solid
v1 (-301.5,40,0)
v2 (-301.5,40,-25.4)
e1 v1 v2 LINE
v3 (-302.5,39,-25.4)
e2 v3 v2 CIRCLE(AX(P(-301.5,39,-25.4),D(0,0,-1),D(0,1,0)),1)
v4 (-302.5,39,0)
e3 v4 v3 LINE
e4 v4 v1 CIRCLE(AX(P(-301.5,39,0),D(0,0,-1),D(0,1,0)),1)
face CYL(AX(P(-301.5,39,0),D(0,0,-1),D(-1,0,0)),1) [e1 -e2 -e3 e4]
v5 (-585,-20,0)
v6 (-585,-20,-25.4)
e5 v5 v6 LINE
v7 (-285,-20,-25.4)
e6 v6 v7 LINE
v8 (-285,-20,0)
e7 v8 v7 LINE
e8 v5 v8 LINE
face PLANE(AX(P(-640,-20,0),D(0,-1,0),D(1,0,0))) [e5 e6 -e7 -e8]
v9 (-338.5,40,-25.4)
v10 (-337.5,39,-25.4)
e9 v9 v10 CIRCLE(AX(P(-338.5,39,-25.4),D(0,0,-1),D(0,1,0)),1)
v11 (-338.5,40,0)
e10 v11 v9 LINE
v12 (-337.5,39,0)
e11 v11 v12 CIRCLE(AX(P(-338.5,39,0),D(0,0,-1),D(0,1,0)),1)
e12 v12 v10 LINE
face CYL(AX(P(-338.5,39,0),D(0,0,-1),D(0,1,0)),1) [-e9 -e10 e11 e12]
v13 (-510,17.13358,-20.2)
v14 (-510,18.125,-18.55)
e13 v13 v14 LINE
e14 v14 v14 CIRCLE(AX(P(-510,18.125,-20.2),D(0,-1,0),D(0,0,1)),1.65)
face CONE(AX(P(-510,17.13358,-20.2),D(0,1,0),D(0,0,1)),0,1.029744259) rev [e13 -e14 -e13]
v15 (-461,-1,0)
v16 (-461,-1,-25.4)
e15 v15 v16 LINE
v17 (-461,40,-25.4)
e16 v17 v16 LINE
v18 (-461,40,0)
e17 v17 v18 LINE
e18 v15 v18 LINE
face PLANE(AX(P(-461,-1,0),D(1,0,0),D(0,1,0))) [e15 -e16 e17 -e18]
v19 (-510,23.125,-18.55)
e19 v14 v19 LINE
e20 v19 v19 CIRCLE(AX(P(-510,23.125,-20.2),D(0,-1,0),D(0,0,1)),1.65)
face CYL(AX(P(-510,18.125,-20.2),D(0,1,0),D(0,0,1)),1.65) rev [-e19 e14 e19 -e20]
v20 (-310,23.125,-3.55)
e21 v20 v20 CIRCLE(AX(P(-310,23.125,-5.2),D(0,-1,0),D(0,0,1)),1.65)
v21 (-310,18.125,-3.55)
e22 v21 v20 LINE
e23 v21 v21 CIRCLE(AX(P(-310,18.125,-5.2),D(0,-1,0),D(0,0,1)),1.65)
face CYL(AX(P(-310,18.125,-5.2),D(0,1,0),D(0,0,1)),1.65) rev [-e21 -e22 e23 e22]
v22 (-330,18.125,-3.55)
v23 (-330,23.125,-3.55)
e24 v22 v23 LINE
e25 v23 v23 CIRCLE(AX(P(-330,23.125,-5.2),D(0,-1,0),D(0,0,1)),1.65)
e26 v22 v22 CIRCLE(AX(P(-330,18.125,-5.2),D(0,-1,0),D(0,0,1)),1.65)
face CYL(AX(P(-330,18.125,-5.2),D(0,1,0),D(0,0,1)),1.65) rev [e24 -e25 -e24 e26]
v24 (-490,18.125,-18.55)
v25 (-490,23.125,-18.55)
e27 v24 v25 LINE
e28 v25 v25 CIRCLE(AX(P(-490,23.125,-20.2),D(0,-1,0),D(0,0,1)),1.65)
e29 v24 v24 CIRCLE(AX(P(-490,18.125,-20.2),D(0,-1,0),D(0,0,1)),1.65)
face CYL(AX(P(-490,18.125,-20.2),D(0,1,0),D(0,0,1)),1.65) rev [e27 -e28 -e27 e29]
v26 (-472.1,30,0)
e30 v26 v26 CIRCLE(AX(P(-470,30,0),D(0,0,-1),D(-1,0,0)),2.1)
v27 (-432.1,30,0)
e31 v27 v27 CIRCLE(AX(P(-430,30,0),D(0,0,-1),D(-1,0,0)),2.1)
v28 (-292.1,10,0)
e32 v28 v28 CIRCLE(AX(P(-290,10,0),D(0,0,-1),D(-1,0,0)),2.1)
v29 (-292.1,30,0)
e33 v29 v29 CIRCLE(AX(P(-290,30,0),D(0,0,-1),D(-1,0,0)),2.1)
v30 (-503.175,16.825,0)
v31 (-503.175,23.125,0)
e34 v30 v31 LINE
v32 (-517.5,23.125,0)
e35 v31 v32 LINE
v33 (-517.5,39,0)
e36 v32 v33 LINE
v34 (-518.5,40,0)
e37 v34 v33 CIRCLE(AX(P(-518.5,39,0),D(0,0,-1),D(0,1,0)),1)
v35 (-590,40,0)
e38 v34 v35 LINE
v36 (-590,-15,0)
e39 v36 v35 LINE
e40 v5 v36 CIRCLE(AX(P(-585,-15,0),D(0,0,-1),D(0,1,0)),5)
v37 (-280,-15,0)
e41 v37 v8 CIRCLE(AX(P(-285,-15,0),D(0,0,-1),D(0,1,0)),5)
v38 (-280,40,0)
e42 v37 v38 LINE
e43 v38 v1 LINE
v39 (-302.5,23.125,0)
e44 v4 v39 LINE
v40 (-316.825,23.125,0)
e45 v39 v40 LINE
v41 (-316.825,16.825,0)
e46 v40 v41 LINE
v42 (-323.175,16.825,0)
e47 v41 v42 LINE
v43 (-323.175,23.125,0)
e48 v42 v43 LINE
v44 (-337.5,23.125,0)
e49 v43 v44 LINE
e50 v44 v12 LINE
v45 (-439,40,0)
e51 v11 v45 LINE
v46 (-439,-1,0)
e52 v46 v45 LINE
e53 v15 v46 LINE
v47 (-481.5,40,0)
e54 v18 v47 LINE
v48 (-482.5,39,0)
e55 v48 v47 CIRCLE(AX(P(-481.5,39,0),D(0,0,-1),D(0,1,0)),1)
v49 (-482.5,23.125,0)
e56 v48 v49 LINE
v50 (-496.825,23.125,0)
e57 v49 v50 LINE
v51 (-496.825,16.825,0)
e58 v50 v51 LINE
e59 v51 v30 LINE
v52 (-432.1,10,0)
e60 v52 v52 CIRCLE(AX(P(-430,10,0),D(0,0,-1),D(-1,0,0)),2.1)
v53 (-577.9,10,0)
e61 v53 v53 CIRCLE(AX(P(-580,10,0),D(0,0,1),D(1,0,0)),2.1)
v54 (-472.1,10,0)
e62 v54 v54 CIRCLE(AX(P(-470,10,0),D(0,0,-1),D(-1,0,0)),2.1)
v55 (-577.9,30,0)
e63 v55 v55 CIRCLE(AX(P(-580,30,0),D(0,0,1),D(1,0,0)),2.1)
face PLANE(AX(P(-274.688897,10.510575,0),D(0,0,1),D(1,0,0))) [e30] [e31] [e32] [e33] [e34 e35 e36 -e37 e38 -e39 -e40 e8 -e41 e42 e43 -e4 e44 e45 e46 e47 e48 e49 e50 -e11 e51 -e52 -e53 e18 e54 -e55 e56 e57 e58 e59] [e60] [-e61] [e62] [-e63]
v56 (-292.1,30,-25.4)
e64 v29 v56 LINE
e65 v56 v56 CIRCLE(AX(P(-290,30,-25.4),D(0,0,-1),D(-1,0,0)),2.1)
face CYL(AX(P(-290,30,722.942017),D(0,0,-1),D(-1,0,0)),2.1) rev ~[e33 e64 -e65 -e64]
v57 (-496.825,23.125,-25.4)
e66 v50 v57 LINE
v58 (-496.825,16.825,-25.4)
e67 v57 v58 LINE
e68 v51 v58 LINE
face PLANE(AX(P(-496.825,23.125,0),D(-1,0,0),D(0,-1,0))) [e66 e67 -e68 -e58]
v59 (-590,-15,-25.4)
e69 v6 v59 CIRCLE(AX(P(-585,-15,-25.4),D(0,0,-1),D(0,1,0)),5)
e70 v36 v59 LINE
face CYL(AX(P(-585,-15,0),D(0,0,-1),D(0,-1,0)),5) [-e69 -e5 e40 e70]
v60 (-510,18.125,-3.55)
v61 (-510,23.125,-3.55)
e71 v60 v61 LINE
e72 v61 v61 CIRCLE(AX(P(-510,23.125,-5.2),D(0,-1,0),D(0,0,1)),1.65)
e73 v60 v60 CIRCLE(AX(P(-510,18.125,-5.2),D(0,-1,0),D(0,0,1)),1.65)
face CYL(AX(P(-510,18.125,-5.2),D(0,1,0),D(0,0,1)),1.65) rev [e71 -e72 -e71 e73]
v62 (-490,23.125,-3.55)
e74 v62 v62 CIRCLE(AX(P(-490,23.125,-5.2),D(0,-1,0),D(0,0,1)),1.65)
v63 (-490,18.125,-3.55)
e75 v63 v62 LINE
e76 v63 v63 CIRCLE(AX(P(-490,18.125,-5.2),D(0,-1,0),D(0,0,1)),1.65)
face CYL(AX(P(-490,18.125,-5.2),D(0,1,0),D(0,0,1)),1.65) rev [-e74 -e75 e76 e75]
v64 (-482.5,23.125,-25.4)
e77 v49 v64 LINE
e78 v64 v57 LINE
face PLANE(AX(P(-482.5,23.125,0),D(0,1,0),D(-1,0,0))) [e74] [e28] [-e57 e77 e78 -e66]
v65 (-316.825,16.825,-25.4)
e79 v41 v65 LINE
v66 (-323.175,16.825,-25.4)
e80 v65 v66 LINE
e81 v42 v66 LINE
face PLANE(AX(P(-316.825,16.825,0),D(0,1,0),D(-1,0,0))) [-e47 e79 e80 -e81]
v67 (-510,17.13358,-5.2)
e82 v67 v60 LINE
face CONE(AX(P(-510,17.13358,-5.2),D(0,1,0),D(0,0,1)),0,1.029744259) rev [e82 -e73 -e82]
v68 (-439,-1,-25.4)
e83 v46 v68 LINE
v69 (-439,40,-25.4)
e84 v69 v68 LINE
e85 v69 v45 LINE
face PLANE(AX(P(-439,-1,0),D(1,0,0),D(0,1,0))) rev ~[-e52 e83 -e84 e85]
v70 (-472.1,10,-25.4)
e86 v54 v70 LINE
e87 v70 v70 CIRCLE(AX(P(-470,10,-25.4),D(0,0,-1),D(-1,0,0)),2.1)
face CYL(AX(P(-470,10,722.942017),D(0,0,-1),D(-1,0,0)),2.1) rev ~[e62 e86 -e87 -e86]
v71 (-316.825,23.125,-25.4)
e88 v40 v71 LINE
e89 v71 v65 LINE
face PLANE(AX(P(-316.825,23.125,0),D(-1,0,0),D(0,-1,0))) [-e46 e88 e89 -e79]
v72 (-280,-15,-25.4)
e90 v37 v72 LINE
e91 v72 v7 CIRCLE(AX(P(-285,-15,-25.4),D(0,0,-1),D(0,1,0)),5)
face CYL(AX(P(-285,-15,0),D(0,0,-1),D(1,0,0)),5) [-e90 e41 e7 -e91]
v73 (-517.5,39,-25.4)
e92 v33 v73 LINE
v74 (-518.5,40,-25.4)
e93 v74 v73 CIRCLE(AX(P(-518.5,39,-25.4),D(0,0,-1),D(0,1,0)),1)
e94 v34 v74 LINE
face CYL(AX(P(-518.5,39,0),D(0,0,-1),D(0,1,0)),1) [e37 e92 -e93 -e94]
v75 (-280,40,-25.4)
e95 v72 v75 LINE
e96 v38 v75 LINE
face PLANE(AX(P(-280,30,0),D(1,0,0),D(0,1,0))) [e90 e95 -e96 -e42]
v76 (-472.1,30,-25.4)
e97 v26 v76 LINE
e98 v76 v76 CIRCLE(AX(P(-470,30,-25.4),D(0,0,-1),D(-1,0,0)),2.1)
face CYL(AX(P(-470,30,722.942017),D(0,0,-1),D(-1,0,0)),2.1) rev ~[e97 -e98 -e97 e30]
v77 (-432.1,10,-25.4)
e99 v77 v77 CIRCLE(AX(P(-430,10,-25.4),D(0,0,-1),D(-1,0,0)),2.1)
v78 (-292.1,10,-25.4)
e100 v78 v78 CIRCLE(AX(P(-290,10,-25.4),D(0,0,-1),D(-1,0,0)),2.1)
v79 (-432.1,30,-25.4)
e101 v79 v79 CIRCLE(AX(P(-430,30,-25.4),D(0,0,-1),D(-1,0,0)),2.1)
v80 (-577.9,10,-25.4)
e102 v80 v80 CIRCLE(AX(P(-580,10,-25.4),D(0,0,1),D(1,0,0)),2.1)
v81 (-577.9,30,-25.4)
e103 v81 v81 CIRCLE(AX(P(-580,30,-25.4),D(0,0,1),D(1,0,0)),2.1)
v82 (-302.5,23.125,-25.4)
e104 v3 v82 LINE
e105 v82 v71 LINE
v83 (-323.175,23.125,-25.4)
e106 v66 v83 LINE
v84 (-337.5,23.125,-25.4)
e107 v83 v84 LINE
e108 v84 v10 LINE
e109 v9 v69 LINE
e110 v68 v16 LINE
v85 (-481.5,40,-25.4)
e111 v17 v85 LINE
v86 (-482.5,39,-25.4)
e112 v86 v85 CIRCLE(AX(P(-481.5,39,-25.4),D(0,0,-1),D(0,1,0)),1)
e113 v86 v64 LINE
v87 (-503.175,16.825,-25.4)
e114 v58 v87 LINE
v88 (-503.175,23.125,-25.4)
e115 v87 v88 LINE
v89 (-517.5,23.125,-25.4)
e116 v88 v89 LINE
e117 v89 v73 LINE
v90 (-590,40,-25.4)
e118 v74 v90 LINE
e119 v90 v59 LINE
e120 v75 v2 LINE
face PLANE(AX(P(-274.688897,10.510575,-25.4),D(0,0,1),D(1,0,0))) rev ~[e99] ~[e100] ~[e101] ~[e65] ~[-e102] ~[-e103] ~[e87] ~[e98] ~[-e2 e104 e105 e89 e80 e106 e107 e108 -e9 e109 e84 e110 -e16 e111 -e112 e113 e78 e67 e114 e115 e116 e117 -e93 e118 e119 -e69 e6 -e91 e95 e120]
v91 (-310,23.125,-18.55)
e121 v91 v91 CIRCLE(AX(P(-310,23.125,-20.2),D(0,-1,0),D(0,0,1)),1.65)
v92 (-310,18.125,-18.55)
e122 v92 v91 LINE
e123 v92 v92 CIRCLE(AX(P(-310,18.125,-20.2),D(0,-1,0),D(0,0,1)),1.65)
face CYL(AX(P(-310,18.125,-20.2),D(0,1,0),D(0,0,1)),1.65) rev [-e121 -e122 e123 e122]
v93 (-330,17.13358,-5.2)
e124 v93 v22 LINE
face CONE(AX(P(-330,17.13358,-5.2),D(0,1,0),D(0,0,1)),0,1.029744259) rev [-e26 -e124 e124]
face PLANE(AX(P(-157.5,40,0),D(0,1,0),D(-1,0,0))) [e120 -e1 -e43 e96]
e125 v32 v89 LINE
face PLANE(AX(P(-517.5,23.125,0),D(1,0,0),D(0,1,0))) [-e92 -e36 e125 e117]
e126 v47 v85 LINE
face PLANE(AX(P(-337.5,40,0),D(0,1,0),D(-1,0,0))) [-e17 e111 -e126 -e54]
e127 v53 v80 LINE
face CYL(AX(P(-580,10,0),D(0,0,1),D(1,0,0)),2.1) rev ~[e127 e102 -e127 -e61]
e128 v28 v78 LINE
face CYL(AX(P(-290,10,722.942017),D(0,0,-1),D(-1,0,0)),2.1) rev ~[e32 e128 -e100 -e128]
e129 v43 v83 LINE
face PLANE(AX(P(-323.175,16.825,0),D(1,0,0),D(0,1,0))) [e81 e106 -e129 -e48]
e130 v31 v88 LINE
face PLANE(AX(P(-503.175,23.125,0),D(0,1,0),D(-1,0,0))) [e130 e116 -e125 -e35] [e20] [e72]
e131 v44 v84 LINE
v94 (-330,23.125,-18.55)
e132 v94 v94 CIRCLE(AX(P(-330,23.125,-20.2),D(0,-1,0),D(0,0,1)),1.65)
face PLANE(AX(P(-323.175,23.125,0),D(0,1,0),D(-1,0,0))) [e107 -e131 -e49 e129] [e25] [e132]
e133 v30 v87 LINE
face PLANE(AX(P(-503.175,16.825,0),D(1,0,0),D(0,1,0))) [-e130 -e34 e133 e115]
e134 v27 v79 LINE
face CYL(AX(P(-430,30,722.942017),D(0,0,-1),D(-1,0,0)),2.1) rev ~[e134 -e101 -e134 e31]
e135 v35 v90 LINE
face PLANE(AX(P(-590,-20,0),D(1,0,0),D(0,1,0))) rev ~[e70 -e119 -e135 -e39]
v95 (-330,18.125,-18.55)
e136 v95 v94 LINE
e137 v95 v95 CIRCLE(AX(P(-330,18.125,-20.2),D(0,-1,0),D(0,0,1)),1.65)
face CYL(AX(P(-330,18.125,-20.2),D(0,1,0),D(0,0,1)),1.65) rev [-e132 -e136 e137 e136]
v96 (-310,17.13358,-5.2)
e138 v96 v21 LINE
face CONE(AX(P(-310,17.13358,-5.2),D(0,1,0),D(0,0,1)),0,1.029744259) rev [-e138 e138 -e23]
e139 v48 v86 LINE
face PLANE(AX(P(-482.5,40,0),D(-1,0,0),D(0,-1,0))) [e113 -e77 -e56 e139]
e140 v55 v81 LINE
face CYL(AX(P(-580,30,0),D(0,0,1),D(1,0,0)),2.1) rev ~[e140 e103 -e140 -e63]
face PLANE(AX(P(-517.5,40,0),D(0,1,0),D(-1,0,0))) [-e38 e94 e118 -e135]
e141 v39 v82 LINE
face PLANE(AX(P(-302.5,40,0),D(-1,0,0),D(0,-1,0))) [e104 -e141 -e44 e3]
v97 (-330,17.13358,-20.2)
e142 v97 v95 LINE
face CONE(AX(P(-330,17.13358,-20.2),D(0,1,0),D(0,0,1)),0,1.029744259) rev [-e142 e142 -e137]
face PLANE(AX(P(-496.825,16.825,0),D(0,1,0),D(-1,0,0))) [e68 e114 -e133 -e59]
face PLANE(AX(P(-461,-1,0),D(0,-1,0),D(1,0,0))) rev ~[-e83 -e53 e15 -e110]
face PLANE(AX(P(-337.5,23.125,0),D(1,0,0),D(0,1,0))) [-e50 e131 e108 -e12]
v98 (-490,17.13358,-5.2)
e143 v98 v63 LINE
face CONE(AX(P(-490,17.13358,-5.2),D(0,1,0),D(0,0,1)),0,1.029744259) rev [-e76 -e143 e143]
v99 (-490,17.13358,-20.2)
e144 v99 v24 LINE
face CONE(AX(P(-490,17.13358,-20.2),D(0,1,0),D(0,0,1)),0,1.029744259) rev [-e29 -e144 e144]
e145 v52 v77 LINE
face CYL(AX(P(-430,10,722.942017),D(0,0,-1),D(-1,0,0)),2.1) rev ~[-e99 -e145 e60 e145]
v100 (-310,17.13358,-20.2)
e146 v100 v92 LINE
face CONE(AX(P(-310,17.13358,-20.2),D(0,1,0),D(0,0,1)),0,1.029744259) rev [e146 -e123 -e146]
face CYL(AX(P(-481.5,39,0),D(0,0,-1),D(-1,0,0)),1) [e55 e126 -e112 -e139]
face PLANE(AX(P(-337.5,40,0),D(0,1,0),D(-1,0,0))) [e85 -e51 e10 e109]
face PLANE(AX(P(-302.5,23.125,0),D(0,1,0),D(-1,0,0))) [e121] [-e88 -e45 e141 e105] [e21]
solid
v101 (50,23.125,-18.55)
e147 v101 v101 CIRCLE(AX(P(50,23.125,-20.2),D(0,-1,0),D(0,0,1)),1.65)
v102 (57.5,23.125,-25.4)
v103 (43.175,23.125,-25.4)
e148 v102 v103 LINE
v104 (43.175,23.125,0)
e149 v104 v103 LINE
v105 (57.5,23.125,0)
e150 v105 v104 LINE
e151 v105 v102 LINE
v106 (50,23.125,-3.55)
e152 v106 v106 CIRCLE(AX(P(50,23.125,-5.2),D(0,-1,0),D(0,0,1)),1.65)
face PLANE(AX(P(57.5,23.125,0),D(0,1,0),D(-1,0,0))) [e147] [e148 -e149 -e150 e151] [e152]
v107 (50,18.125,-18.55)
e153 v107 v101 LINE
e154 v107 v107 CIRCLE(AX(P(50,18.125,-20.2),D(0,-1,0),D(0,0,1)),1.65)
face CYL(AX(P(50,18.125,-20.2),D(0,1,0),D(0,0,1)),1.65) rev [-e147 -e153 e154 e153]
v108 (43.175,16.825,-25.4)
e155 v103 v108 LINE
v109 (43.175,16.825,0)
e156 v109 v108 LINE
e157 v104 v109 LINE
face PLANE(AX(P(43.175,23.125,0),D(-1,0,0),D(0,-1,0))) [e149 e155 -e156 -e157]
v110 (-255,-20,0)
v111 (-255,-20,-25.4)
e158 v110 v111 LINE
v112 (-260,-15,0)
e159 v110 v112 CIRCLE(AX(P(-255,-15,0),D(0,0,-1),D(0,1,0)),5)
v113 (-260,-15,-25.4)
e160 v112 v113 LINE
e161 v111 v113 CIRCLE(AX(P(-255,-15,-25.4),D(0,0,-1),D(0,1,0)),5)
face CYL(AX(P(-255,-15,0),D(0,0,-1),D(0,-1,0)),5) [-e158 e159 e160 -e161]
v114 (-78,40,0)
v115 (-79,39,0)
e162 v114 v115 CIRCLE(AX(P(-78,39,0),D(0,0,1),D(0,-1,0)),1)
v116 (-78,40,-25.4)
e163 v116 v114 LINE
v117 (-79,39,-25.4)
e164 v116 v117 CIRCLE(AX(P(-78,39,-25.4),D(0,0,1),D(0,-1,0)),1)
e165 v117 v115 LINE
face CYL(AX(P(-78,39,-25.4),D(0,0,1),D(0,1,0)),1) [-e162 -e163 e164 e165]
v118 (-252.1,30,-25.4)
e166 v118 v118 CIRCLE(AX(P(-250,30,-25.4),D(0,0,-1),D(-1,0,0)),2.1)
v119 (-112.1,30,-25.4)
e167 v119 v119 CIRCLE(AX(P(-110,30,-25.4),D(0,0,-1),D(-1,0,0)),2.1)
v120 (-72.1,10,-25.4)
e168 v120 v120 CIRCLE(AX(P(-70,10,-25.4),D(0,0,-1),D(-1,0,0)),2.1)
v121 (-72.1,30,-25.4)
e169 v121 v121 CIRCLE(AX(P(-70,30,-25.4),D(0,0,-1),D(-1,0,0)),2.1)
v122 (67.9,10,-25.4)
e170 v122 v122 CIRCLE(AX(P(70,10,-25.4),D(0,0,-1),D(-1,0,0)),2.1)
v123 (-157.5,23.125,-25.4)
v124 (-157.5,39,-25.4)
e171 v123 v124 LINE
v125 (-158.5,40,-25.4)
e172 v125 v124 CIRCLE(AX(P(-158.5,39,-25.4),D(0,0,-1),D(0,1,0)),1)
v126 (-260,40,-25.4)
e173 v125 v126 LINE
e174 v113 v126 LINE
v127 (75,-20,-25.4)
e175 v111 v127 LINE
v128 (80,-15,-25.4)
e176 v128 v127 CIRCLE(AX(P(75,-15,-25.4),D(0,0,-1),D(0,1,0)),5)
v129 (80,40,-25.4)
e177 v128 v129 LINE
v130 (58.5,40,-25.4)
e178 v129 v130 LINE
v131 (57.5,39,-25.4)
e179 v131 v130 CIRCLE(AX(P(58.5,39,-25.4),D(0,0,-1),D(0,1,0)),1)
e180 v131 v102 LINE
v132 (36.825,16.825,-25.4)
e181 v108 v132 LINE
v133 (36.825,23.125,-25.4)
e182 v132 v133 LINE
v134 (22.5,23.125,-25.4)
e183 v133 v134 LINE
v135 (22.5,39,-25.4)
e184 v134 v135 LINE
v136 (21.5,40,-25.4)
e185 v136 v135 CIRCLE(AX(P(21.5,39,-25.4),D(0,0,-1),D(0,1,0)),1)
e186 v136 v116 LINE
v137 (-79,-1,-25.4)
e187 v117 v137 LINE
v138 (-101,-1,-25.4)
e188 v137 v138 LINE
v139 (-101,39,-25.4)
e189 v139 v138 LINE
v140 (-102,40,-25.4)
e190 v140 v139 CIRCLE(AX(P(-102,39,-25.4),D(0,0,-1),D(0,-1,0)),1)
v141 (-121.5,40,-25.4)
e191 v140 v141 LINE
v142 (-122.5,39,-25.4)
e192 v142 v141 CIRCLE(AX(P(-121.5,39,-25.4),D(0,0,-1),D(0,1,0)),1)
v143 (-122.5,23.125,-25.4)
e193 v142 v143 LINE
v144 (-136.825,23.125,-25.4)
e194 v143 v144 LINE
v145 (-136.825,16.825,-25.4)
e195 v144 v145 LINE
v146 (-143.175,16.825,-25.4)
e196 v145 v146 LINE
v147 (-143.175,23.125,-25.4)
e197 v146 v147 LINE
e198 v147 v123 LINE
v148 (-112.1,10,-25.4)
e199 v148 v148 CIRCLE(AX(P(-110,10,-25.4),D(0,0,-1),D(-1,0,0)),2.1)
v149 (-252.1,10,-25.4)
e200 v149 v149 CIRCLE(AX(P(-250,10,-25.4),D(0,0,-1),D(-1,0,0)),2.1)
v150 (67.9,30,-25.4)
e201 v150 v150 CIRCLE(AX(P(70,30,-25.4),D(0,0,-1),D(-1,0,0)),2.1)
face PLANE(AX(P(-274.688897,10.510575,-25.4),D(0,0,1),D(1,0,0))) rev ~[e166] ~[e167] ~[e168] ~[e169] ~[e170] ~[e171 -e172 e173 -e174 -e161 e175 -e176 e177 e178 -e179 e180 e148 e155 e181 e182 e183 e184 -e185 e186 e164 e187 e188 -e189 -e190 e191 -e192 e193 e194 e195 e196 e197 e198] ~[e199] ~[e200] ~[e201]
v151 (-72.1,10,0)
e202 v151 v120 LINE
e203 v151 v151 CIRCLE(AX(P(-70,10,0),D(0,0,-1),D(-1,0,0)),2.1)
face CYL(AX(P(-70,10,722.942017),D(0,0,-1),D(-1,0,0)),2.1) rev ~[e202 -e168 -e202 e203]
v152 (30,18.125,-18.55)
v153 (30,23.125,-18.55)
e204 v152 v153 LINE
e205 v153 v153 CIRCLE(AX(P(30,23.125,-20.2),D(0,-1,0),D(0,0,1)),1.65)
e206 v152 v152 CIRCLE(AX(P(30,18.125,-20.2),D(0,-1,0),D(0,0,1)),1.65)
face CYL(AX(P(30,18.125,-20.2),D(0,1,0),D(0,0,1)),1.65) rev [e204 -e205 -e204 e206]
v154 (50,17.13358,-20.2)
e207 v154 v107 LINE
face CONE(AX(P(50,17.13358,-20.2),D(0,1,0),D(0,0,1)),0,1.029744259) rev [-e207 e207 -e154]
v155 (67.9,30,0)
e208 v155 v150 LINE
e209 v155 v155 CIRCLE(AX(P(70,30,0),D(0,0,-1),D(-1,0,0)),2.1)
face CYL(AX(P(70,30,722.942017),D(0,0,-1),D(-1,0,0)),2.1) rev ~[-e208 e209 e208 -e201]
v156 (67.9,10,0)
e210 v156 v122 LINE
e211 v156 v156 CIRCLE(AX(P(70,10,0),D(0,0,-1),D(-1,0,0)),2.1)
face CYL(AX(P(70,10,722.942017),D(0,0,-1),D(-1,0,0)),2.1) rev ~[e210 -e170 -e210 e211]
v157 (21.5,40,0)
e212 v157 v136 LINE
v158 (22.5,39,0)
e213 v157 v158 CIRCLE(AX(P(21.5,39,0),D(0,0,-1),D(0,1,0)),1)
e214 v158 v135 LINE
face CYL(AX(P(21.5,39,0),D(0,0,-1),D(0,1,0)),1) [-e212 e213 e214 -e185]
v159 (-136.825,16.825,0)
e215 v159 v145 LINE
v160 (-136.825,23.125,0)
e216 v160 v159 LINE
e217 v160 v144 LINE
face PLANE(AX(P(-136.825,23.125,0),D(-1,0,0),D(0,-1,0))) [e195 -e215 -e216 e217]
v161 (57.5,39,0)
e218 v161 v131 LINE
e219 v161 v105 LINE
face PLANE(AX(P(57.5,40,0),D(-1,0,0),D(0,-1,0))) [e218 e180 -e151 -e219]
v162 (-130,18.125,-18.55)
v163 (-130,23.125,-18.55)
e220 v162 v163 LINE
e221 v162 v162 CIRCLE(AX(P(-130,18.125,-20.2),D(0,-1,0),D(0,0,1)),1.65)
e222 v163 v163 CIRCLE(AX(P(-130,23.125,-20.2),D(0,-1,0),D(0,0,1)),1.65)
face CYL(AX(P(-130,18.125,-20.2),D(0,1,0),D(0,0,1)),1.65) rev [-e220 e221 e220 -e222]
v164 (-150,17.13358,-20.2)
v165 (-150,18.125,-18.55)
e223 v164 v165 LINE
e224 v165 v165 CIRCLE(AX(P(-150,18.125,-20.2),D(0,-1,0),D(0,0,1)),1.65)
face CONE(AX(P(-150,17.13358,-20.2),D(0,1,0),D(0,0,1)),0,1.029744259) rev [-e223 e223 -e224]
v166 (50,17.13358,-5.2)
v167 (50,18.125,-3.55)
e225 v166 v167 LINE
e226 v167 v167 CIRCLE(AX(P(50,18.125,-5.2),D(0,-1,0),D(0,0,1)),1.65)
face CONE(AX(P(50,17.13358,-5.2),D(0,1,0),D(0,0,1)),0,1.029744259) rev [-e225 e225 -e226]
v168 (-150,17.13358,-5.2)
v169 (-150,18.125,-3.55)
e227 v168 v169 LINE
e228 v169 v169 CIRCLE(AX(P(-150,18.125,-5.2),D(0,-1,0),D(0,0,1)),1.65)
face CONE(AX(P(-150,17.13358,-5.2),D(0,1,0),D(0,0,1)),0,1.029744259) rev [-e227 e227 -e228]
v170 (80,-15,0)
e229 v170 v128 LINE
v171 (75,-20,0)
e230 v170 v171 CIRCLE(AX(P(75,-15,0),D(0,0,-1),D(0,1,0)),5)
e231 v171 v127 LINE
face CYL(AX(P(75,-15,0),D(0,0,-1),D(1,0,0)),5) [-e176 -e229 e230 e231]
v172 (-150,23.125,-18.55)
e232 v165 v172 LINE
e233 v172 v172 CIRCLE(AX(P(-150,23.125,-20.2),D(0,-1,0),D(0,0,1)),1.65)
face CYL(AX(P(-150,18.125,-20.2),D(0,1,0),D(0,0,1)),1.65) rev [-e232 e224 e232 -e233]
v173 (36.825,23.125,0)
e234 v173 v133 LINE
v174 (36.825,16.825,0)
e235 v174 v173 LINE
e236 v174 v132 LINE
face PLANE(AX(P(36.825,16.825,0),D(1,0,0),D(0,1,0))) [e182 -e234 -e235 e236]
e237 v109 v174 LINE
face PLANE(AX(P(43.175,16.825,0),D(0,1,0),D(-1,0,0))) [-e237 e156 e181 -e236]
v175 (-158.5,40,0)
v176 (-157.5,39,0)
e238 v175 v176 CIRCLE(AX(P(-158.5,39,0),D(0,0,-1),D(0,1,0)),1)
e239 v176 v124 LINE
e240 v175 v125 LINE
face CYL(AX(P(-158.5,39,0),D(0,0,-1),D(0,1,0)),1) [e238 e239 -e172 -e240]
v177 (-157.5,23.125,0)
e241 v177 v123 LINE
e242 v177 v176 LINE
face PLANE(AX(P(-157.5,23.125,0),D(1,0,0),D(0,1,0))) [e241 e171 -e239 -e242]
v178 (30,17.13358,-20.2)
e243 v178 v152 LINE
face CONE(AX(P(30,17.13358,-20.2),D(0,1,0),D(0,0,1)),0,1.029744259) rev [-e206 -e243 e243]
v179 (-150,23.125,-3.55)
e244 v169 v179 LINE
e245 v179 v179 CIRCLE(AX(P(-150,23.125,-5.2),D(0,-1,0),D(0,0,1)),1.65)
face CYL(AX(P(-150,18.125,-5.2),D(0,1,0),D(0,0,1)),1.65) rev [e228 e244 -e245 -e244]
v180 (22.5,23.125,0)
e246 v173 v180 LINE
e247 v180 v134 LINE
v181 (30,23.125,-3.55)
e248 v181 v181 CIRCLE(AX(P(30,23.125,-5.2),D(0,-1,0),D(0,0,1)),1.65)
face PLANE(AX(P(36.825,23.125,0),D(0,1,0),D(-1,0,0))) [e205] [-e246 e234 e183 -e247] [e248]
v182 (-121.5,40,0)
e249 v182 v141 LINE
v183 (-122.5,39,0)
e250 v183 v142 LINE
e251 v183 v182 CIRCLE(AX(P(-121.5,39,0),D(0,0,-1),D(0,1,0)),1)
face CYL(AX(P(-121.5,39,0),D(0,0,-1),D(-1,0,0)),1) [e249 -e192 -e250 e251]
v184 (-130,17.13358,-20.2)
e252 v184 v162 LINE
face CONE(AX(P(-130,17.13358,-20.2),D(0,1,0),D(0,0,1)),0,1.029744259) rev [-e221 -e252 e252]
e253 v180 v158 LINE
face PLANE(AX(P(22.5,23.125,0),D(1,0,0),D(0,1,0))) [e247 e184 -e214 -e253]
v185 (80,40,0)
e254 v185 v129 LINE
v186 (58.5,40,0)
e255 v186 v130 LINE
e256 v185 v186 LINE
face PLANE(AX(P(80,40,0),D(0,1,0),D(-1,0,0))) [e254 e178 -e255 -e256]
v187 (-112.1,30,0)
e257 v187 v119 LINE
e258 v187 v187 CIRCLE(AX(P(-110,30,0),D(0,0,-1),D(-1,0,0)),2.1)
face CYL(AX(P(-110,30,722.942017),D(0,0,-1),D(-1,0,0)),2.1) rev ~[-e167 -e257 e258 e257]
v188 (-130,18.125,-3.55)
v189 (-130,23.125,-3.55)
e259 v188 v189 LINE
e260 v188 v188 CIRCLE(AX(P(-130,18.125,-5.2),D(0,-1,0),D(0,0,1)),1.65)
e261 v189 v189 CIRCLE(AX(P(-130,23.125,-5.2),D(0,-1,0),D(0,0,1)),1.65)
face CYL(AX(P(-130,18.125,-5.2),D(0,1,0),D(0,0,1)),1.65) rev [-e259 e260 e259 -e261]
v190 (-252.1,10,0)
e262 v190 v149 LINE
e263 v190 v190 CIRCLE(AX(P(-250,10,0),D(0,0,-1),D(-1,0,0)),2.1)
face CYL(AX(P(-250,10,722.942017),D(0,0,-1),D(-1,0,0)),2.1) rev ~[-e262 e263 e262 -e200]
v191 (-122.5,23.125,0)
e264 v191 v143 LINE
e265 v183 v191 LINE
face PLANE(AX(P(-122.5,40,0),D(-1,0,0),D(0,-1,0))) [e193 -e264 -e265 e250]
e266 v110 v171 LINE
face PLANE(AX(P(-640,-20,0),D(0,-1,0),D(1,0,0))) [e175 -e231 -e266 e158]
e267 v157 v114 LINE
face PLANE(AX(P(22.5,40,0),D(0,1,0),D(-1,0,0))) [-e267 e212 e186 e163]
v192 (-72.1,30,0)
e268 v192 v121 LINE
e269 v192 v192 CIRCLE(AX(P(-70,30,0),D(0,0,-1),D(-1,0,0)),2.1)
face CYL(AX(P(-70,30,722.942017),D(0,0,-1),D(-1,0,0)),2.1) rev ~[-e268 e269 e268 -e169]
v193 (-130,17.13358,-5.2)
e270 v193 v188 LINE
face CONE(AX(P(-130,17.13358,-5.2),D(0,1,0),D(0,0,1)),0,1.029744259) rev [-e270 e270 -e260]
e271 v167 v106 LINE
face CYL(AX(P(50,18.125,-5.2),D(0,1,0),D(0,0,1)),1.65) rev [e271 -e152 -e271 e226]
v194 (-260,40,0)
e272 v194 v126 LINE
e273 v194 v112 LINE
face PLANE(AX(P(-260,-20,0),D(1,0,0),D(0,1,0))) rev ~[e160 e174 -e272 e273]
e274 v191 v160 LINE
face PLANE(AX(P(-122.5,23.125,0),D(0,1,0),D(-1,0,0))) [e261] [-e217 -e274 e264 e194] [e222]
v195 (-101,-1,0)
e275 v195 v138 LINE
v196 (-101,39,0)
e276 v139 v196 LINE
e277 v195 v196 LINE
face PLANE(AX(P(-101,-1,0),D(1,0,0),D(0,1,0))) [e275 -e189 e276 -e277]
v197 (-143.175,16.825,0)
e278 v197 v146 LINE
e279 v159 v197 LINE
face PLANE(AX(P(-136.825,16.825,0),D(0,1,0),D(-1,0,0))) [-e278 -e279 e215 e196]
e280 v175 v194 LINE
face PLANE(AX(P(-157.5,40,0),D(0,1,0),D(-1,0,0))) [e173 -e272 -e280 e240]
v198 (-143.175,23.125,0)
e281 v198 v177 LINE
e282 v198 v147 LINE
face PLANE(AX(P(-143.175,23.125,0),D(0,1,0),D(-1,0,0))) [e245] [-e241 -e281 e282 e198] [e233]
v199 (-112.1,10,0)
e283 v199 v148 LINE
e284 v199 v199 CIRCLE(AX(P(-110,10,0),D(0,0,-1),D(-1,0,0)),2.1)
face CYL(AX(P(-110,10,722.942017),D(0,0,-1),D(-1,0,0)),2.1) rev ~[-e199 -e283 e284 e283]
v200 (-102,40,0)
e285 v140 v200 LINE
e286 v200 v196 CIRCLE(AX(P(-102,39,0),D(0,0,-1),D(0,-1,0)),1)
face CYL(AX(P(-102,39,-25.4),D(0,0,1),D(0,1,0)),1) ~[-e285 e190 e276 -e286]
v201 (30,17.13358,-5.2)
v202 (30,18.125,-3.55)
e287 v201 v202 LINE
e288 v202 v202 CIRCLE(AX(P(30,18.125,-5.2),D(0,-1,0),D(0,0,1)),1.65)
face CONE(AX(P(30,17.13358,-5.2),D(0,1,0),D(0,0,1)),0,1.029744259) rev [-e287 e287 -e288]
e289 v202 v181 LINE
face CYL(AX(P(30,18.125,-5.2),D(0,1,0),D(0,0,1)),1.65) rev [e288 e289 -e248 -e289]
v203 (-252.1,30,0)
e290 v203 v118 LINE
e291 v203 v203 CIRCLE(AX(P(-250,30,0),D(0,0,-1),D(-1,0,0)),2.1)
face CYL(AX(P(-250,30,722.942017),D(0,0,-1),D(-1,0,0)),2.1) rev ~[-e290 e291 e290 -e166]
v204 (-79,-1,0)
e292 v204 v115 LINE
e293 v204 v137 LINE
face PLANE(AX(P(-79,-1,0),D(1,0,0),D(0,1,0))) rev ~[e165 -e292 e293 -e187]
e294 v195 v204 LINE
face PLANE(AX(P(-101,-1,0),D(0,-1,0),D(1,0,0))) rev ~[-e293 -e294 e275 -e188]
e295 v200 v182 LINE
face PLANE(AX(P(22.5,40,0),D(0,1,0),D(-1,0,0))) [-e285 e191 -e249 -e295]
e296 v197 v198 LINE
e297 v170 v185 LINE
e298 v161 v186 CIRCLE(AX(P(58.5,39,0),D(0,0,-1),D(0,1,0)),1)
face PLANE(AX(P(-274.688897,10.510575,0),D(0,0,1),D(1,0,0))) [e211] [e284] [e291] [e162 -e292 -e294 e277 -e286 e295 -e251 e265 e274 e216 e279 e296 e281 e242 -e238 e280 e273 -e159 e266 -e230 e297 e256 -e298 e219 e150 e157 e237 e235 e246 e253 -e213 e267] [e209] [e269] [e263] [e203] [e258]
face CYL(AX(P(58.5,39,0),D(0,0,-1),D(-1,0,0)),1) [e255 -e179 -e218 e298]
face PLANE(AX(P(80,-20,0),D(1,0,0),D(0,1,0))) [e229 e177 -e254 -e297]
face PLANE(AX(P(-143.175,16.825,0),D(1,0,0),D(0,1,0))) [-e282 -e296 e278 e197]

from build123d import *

# Parameters (mm, degrees)
BOSS_EXTRUDE1_DEPTH                  = 25.4
TAP_DRILL_FOR_M4X0_7_TAP1_AT_2_COUNT = 2
TAP_DRILL_FOR_M4X0_7_TAP1_AT_2_PITCH = 20
TAP_DRILL_FOR_M4X0_7_TAP1_AT_3_COUNT = 2
TAP_DRILL_FOR_M4X0_7_TAP1_AT_3_PITCH = 15
TAP_DRILL_FOR_M4X0_7_TAP1_AT_4_COUNT = 2
TAP_DRILL_FOR_M4X0_7_TAP1_AT_4_PITCH = 25
TAP_DRILL_FOR_M5X0_8_TAP3_D          = 4.2
LPATTERN5_COUNT                      = 4
LPATTERN5_PITCH                      = 180
CUT_EXTRUDE1_REACH                   = 643.752
SKETCH11_W                           = 50
SKETCH11_H                           = 60
SKETCH11_R                           = 2.1
SKETCH11_W_2                         = 22
SKETCH11_H_2                         = 42
CUT_EXTRUDE3_REACH                   = 593.9
SKETCH13_W                           = 20
SKETCH13_H                           = 10
SKETCH13_H_2                         = 50
FILLET1_R                            = 1
FILLET4_R                            = 1
FILLET2_R                            = 5
FILLET3_R                            = 5


with BuildPart() as part:
    # Sketch1 → Boss-Extrude1 (new body)
    with BuildSketch(Plane.XY):
        Polygon((22.5, 40), (-122.5, 40), (-122.5, 23.125), (-136.825, 23.125), (-136.825, 16.825), (-143.175, 16.825), (-143.175, 23.125), (-157.5, 23.125), (-157.5, 40), (-302.5, 40), (-302.5, 23.125), (-316.825, 23.125), (-316.825, 16.825), (-323.175, 16.825), (-323.175, 23.125), (-337.5, 23.125), (-337.5, 40), (-482.5, 40), (-482.5, 23.125), (-496.825, 23.125), (-496.825, 16.825), (-503.175, 16.825), (-503.175, 23.125), (-517.5, 23.125), (-517.5, 40), (-640, 40), (-640, -20), (80, -20), (80, 40), (57.5, 40), (57.5, 23.125), (43.175, 23.125), (43.175, 16.825), (36.825, 16.825), (36.825, 23.125), (22.5, 23.125), align=None)
    extrude(amount=-BOSS_EXTRUDE1_DEPTH)

    # Sketch9 → Tap Drill for M4x0.7 Tap1 (revolve, cut)
    with BuildSketch(Plane(origin=(30, 23.125, -5.2), x_dir=(0, 0, 1), z_dir=(1, 0, 0))):
        Polygon((0, 0), (0, 5.991420021), (1.65, 5), (1.65, 0), align=None)
    tap_drill_for_m4x0_7_tap1 = revolve(axis=Axis((30, 29.475, -5.2), (0, -1, 0)), mode=Mode.SUBTRACT)

    # Tap Drill for M4x0.7 Tap1 at 2: Tap Drill for M4x0.7 Tap1 ×2
    with Locations(*[(i * TAP_DRILL_FOR_M4X0_7_TAP1_AT_2_PITCH, 0, 0) for i in range(1, TAP_DRILL_FOR_M4X0_7_TAP1_AT_2_COUNT)]):
        add(tap_drill_for_m4x0_7_tap1, mode=Mode.SUBTRACT)

    # Tap Drill for M4x0.7 Tap1 at 3: Tap Drill for M4x0.7 Tap1 ×2
    with Locations(*[(0, 0, -i * TAP_DRILL_FOR_M4X0_7_TAP1_AT_3_PITCH) for i in range(1, TAP_DRILL_FOR_M4X0_7_TAP1_AT_3_COUNT)]):
        add(tap_drill_for_m4x0_7_tap1, mode=Mode.SUBTRACT)

    # Tap Drill for M4x0.7 Tap1 at 4: Tap Drill for M4x0.7 Tap1 ×2
    with Locations(*[Vector(0.8, 0, -0.6) * (i * TAP_DRILL_FOR_M4X0_7_TAP1_AT_4_PITCH) for i in range(1, TAP_DRILL_FOR_M4X0_7_TAP1_AT_4_COUNT)]):
        add(tap_drill_for_m4x0_7_tap1, mode=Mode.SUBTRACT)

    # Tap Drill for M5x0.8 Tap3 (through all)
    with Locations(Plane(origin=(-70, 30, 0), x_dir=(1, 0, 0), z_dir=(0, 0, 1))):
        with Locations((0, 0), (0, -20), (140, -20), (140, 0)):
            tap_drill_for_m5x0_8_tap3 = Hole(TAP_DRILL_FOR_M5X0_8_TAP3_D / 2)

    # LPattern5: Tap Drill for M4x0.7 Tap1, Tap Drill for M5x0.8 Tap3 ×4
    with Locations(*[(-i * LPATTERN5_PITCH, 0, 0) for i in range(1, LPATTERN5_COUNT)]):
        add(tap_drill_for_m4x0_7_tap1, mode=Mode.SUBTRACT)
        add(tap_drill_for_m5x0_8_tap3, mode=Mode.SUBTRACT)

    # LPattern5 copy 1 sketch → LPattern5 copy 1 (revolve, cut)
    with BuildSketch(Plane(origin=(-130, 23.125, -5.2), x_dir=(0, 0, 1), z_dir=(1, 0, 0))):
        Polygon((0, 0), (0, 5.991420021), (1.65, 5), (1.65, 0), align=None)
    revolve(axis=Axis((-130, 29.475, -5.2), (0, -1, 0)), mode=Mode.SUBTRACT)

    # LPattern5 copy 2 sketch → LPattern5 copy 2 (revolve, cut)
    with BuildSketch(Plane(origin=(-310, 23.125, -5.2), x_dir=(0, 0, 1), z_dir=(1, 0, 0))):
        Polygon((0, 0), (0, 5.991420021), (1.65, 5), (1.65, 0), align=None)
    revolve(axis=Axis((-310, 29.475, -5.2), (0, -1, 0)), mode=Mode.SUBTRACT)

    # LPattern5 copy 3 sketch → LPattern5 copy 3 (revolve, cut)
    with BuildSketch(Plane(origin=(-490, 23.125, -5.2), x_dir=(0, 0, 1), z_dir=(1, 0, 0))):
        Polygon((0, 0), (0, 5.991420021), (1.65, 5), (1.65, 0), align=None)
    revolve(axis=Axis((-490, 29.475, -5.2), (0, -1, 0)), mode=Mode.SUBTRACT)

    # LPattern5 copy 4 sketch → LPattern5 copy 4 (revolve, cut)
    with BuildSketch(Plane(origin=(-150, 23.125, -20.2), x_dir=(0, 0, 1), z_dir=(1, 0, 0))):
        Polygon((0, 0), (0, 5.991420021), (1.65, 5), (1.65, 0), align=None)
    revolve(axis=Axis((-150, 29.475, -20.2), (0, -1, 0)), mode=Mode.SUBTRACT)

    # LPattern5 copy 5 sketch → LPattern5 copy 5 (revolve, cut)
    with BuildSketch(Plane(origin=(-330, 23.125, -20.2), x_dir=(0, 0, 1), z_dir=(1, 0, 0))):
        Polygon((0, 0), (0, 5.991420021), (1.65, 5), (1.65, 0), align=None)
    revolve(axis=Axis((-330, 29.475, -20.2), (0, -1, 0)), mode=Mode.SUBTRACT)

    # LPattern5 copy 6 sketch → LPattern5 copy 6 (revolve, cut)
    with BuildSketch(Plane(origin=(-510, 23.125, -20.2), x_dir=(0, 0, 1), z_dir=(1, 0, 0))):
        Polygon((0, 0), (0, 5.991420021), (1.65, 5), (1.65, 0), align=None)
    revolve(axis=Axis((-510, 29.475, -20.2), (0, -1, 0)), mode=Mode.SUBTRACT)

    # LPattern5 copy 7 sketch → LPattern5 copy 7 (revolve, cut)
    with BuildSketch(Plane(origin=(-130, 23.125, -20.2), x_dir=(0, 0, 1), z_dir=(1, 0, 0))):
        Polygon((0, 0), (0, 5.991420021), (1.65, 5), (1.65, 0), align=None)
    revolve(axis=Axis((-130, 29.475, -20.2), (0, -1, 0)), mode=Mode.SUBTRACT)

    # LPattern5 copy 8 sketch → LPattern5 copy 8 (revolve, cut)
    with BuildSketch(Plane(origin=(-310, 23.125, -20.2), x_dir=(0, 0, 1), z_dir=(1, 0, 0))):
        Polygon((0, 0), (0, 5.991420021), (1.65, 5), (1.65, 0), align=None)
    revolve(axis=Axis((-310, 29.475, -20.2), (0, -1, 0)), mode=Mode.SUBTRACT)

    # LPattern5 copy 9 sketch → LPattern5 copy 9 (revolve, cut)
    with BuildSketch(Plane(origin=(-490, 23.125, -20.2), x_dir=(0, 0, 1), z_dir=(1, 0, 0))):
        Polygon((0, 0), (0, 5.991420021), (1.65, 5), (1.65, 0), align=None)
    revolve(axis=Axis((-490, 29.475, -20.2), (0, -1, 0)), mode=Mode.SUBTRACT)

    # Sketch11 → Cut-Extrude1 (cut, up to next)
    with BuildSketch(Plane.XY, mode=Mode.PRIVATE) as cut_extrude1_sk1:
        with Locations((-615, 10)):
            Rectangle(SKETCH11_W, SKETCH11_H)
    cut_extrude1_tool1 = extrude(cut_extrude1_sk1.sketch, amount=-CUT_EXTRUDE1_REACH, mode=Mode.PRIVATE) & part.part
    # Sketch11 → Cut-Extrude1 (cut, up to next)
    with BuildSketch(Plane.XY, mode=Mode.PRIVATE) as cut_extrude1_sk2:
        with Locations((-580, 30)):
            Circle(SKETCH11_R)
    cut_extrude1_tool2 = extrude(cut_extrude1_sk2.sketch, amount=-CUT_EXTRUDE1_REACH, mode=Mode.PRIVATE) & part.part
    # Sketch11 → Cut-Extrude1 (cut, up to next)
    with BuildSketch(Plane.XY, mode=Mode.PRIVATE) as cut_extrude1_sk3:
        with Locations((-580, 10)):
            Circle(SKETCH11_R)
    cut_extrude1_tool3 = extrude(cut_extrude1_sk3.sketch, amount=-CUT_EXTRUDE1_REACH, mode=Mode.PRIVATE) & part.part
    # Sketch11 → Cut-Extrude1 (cut, up to next)
    with BuildSketch(Plane.XY, mode=Mode.PRIVATE) as cut_extrude1_sk4:
        with Locations((-90, 20)):
            Rectangle(SKETCH11_W_2, SKETCH11_H_2)
    cut_extrude1_tool4 = extrude(cut_extrude1_sk4.sketch, amount=-CUT_EXTRUDE1_REACH, mode=Mode.PRIVATE) & part.part
    # Sketch11 → Cut-Extrude1 (cut, up to next)
    with BuildSketch(Plane.XY, mode=Mode.PRIVATE) as cut_extrude1_sk5:
        with Locations((-450, 20)):
            Rectangle(SKETCH11_W_2, SKETCH11_H_2)
    cut_extrude1_tool5 = extrude(cut_extrude1_sk5.sketch, amount=-CUT_EXTRUDE1_REACH, mode=Mode.PRIVATE) & part.part
    add(cut_extrude1_tool1.solids().sort_by_distance((-615, 10, 0))[0], mode=Mode.SUBTRACT)
    add(cut_extrude1_tool2.solids().sort_by_distance((-580, 30, 0))[0], mode=Mode.SUBTRACT)
    add(cut_extrude1_tool3.solids().sort_by_distance((-580, 10, 0))[0], mode=Mode.SUBTRACT)
    add(cut_extrude1_tool4.solids().sort_by_distance((-90, 20, 0))[0], mode=Mode.SUBTRACT)
    add(cut_extrude1_tool5.solids().sort_by_distance((-450, 20, 0))[0], mode=Mode.SUBTRACT)

    # Sketch13 → Cut-Extrude3 (cut, up to next)
    with BuildSketch(Plane.XY, mode=Mode.PRIVATE) as cut_extrude3_sk1:
        with Locations((-270, 35)):
            Rectangle(SKETCH13_W, SKETCH13_H)
    cut_extrude3_tool1 = extrude(cut_extrude3_sk1.sketch, amount=-CUT_EXTRUDE3_REACH, mode=Mode.PRIVATE) & part.part
    # Sketch13 → Cut-Extrude3 (cut, up to next)
    with BuildSketch(Plane.XY, mode=Mode.PRIVATE) as cut_extrude3_sk2:
        with Locations((-270, 5)):
            Rectangle(SKETCH13_W, SKETCH13_H_2)
    cut_extrude3_tool2 = extrude(cut_extrude3_sk2.sketch, amount=-CUT_EXTRUDE3_REACH, mode=Mode.PRIVATE) & part.part
    add(cut_extrude3_tool1.solids().sort_by_distance((-270, 35, 0))[0], mode=Mode.SUBTRACT)
    add(cut_extrude3_tool2.solids().sort_by_distance((-270, 5, 0))[0], mode=Mode.SUBTRACT)


with BuildPart() as cut_extrude3_piece_1:
    # of the separate pieces the step leaves, piece 1, a body of its own (cut_extrude3_pieces)
    add(part.part.solids().sort_by_distance((80, -20, 0))[0])

    # Fillet1
    fillet1_edges = [cut_extrude3_piece_1.edges().sort_by_distance(p)[0] for p in [
        (-101, 40, -12.7),
        (-79, 40, -12.7),
        (57.5, 40, -12.7),
        (-157.5, 40, -12.7),
        (-122.5, 40, -12.7),
        (22.5, 40, -12.7),
    ]]
    fillet(fillet1_edges, radius=FILLET1_R)

    # Fillet2
    fillet2_edges = [cut_extrude3_piece_1.edges().sort_by_distance(p)[0] for p in [
        (-260, -20, -12.7),
        (80, -20, -12.7),
    ]]
    fillet(fillet2_edges, radius=FILLET2_R)


with BuildPart() as cut_extrude3_piece_2:
    # of the separate pieces the step leaves, piece 2, a body of its own (cut_extrude3_pieces)
    add(part.part.solids().sort_by_distance((-590, -20, 0))[0])

    # Fillet4
    fillet4_edges = [cut_extrude3_piece_2.edges().sort_by_distance(p)[0] for p in [
        (-517.5, 40, -12.7),
        (-482.5, 40, -12.7),
        (-337.5, 40, -12.7),
        (-302.5, 40, -12.7),
    ]]
    fillet(fillet4_edges, radius=FILLET4_R)

    # Fillet3
    fillet3_edges = [cut_extrude3_piece_2.edges().sort_by_distance(p)[0] for p in [
        (-280, -20, -12.7),
        (-590, -20, -12.7),
    ]]
    fillet(fillet3_edges, radius=FILLET3_R)


solid = Compound([cut_extrude3_piece_1.part, cut_extrude3_piece_2.part])
